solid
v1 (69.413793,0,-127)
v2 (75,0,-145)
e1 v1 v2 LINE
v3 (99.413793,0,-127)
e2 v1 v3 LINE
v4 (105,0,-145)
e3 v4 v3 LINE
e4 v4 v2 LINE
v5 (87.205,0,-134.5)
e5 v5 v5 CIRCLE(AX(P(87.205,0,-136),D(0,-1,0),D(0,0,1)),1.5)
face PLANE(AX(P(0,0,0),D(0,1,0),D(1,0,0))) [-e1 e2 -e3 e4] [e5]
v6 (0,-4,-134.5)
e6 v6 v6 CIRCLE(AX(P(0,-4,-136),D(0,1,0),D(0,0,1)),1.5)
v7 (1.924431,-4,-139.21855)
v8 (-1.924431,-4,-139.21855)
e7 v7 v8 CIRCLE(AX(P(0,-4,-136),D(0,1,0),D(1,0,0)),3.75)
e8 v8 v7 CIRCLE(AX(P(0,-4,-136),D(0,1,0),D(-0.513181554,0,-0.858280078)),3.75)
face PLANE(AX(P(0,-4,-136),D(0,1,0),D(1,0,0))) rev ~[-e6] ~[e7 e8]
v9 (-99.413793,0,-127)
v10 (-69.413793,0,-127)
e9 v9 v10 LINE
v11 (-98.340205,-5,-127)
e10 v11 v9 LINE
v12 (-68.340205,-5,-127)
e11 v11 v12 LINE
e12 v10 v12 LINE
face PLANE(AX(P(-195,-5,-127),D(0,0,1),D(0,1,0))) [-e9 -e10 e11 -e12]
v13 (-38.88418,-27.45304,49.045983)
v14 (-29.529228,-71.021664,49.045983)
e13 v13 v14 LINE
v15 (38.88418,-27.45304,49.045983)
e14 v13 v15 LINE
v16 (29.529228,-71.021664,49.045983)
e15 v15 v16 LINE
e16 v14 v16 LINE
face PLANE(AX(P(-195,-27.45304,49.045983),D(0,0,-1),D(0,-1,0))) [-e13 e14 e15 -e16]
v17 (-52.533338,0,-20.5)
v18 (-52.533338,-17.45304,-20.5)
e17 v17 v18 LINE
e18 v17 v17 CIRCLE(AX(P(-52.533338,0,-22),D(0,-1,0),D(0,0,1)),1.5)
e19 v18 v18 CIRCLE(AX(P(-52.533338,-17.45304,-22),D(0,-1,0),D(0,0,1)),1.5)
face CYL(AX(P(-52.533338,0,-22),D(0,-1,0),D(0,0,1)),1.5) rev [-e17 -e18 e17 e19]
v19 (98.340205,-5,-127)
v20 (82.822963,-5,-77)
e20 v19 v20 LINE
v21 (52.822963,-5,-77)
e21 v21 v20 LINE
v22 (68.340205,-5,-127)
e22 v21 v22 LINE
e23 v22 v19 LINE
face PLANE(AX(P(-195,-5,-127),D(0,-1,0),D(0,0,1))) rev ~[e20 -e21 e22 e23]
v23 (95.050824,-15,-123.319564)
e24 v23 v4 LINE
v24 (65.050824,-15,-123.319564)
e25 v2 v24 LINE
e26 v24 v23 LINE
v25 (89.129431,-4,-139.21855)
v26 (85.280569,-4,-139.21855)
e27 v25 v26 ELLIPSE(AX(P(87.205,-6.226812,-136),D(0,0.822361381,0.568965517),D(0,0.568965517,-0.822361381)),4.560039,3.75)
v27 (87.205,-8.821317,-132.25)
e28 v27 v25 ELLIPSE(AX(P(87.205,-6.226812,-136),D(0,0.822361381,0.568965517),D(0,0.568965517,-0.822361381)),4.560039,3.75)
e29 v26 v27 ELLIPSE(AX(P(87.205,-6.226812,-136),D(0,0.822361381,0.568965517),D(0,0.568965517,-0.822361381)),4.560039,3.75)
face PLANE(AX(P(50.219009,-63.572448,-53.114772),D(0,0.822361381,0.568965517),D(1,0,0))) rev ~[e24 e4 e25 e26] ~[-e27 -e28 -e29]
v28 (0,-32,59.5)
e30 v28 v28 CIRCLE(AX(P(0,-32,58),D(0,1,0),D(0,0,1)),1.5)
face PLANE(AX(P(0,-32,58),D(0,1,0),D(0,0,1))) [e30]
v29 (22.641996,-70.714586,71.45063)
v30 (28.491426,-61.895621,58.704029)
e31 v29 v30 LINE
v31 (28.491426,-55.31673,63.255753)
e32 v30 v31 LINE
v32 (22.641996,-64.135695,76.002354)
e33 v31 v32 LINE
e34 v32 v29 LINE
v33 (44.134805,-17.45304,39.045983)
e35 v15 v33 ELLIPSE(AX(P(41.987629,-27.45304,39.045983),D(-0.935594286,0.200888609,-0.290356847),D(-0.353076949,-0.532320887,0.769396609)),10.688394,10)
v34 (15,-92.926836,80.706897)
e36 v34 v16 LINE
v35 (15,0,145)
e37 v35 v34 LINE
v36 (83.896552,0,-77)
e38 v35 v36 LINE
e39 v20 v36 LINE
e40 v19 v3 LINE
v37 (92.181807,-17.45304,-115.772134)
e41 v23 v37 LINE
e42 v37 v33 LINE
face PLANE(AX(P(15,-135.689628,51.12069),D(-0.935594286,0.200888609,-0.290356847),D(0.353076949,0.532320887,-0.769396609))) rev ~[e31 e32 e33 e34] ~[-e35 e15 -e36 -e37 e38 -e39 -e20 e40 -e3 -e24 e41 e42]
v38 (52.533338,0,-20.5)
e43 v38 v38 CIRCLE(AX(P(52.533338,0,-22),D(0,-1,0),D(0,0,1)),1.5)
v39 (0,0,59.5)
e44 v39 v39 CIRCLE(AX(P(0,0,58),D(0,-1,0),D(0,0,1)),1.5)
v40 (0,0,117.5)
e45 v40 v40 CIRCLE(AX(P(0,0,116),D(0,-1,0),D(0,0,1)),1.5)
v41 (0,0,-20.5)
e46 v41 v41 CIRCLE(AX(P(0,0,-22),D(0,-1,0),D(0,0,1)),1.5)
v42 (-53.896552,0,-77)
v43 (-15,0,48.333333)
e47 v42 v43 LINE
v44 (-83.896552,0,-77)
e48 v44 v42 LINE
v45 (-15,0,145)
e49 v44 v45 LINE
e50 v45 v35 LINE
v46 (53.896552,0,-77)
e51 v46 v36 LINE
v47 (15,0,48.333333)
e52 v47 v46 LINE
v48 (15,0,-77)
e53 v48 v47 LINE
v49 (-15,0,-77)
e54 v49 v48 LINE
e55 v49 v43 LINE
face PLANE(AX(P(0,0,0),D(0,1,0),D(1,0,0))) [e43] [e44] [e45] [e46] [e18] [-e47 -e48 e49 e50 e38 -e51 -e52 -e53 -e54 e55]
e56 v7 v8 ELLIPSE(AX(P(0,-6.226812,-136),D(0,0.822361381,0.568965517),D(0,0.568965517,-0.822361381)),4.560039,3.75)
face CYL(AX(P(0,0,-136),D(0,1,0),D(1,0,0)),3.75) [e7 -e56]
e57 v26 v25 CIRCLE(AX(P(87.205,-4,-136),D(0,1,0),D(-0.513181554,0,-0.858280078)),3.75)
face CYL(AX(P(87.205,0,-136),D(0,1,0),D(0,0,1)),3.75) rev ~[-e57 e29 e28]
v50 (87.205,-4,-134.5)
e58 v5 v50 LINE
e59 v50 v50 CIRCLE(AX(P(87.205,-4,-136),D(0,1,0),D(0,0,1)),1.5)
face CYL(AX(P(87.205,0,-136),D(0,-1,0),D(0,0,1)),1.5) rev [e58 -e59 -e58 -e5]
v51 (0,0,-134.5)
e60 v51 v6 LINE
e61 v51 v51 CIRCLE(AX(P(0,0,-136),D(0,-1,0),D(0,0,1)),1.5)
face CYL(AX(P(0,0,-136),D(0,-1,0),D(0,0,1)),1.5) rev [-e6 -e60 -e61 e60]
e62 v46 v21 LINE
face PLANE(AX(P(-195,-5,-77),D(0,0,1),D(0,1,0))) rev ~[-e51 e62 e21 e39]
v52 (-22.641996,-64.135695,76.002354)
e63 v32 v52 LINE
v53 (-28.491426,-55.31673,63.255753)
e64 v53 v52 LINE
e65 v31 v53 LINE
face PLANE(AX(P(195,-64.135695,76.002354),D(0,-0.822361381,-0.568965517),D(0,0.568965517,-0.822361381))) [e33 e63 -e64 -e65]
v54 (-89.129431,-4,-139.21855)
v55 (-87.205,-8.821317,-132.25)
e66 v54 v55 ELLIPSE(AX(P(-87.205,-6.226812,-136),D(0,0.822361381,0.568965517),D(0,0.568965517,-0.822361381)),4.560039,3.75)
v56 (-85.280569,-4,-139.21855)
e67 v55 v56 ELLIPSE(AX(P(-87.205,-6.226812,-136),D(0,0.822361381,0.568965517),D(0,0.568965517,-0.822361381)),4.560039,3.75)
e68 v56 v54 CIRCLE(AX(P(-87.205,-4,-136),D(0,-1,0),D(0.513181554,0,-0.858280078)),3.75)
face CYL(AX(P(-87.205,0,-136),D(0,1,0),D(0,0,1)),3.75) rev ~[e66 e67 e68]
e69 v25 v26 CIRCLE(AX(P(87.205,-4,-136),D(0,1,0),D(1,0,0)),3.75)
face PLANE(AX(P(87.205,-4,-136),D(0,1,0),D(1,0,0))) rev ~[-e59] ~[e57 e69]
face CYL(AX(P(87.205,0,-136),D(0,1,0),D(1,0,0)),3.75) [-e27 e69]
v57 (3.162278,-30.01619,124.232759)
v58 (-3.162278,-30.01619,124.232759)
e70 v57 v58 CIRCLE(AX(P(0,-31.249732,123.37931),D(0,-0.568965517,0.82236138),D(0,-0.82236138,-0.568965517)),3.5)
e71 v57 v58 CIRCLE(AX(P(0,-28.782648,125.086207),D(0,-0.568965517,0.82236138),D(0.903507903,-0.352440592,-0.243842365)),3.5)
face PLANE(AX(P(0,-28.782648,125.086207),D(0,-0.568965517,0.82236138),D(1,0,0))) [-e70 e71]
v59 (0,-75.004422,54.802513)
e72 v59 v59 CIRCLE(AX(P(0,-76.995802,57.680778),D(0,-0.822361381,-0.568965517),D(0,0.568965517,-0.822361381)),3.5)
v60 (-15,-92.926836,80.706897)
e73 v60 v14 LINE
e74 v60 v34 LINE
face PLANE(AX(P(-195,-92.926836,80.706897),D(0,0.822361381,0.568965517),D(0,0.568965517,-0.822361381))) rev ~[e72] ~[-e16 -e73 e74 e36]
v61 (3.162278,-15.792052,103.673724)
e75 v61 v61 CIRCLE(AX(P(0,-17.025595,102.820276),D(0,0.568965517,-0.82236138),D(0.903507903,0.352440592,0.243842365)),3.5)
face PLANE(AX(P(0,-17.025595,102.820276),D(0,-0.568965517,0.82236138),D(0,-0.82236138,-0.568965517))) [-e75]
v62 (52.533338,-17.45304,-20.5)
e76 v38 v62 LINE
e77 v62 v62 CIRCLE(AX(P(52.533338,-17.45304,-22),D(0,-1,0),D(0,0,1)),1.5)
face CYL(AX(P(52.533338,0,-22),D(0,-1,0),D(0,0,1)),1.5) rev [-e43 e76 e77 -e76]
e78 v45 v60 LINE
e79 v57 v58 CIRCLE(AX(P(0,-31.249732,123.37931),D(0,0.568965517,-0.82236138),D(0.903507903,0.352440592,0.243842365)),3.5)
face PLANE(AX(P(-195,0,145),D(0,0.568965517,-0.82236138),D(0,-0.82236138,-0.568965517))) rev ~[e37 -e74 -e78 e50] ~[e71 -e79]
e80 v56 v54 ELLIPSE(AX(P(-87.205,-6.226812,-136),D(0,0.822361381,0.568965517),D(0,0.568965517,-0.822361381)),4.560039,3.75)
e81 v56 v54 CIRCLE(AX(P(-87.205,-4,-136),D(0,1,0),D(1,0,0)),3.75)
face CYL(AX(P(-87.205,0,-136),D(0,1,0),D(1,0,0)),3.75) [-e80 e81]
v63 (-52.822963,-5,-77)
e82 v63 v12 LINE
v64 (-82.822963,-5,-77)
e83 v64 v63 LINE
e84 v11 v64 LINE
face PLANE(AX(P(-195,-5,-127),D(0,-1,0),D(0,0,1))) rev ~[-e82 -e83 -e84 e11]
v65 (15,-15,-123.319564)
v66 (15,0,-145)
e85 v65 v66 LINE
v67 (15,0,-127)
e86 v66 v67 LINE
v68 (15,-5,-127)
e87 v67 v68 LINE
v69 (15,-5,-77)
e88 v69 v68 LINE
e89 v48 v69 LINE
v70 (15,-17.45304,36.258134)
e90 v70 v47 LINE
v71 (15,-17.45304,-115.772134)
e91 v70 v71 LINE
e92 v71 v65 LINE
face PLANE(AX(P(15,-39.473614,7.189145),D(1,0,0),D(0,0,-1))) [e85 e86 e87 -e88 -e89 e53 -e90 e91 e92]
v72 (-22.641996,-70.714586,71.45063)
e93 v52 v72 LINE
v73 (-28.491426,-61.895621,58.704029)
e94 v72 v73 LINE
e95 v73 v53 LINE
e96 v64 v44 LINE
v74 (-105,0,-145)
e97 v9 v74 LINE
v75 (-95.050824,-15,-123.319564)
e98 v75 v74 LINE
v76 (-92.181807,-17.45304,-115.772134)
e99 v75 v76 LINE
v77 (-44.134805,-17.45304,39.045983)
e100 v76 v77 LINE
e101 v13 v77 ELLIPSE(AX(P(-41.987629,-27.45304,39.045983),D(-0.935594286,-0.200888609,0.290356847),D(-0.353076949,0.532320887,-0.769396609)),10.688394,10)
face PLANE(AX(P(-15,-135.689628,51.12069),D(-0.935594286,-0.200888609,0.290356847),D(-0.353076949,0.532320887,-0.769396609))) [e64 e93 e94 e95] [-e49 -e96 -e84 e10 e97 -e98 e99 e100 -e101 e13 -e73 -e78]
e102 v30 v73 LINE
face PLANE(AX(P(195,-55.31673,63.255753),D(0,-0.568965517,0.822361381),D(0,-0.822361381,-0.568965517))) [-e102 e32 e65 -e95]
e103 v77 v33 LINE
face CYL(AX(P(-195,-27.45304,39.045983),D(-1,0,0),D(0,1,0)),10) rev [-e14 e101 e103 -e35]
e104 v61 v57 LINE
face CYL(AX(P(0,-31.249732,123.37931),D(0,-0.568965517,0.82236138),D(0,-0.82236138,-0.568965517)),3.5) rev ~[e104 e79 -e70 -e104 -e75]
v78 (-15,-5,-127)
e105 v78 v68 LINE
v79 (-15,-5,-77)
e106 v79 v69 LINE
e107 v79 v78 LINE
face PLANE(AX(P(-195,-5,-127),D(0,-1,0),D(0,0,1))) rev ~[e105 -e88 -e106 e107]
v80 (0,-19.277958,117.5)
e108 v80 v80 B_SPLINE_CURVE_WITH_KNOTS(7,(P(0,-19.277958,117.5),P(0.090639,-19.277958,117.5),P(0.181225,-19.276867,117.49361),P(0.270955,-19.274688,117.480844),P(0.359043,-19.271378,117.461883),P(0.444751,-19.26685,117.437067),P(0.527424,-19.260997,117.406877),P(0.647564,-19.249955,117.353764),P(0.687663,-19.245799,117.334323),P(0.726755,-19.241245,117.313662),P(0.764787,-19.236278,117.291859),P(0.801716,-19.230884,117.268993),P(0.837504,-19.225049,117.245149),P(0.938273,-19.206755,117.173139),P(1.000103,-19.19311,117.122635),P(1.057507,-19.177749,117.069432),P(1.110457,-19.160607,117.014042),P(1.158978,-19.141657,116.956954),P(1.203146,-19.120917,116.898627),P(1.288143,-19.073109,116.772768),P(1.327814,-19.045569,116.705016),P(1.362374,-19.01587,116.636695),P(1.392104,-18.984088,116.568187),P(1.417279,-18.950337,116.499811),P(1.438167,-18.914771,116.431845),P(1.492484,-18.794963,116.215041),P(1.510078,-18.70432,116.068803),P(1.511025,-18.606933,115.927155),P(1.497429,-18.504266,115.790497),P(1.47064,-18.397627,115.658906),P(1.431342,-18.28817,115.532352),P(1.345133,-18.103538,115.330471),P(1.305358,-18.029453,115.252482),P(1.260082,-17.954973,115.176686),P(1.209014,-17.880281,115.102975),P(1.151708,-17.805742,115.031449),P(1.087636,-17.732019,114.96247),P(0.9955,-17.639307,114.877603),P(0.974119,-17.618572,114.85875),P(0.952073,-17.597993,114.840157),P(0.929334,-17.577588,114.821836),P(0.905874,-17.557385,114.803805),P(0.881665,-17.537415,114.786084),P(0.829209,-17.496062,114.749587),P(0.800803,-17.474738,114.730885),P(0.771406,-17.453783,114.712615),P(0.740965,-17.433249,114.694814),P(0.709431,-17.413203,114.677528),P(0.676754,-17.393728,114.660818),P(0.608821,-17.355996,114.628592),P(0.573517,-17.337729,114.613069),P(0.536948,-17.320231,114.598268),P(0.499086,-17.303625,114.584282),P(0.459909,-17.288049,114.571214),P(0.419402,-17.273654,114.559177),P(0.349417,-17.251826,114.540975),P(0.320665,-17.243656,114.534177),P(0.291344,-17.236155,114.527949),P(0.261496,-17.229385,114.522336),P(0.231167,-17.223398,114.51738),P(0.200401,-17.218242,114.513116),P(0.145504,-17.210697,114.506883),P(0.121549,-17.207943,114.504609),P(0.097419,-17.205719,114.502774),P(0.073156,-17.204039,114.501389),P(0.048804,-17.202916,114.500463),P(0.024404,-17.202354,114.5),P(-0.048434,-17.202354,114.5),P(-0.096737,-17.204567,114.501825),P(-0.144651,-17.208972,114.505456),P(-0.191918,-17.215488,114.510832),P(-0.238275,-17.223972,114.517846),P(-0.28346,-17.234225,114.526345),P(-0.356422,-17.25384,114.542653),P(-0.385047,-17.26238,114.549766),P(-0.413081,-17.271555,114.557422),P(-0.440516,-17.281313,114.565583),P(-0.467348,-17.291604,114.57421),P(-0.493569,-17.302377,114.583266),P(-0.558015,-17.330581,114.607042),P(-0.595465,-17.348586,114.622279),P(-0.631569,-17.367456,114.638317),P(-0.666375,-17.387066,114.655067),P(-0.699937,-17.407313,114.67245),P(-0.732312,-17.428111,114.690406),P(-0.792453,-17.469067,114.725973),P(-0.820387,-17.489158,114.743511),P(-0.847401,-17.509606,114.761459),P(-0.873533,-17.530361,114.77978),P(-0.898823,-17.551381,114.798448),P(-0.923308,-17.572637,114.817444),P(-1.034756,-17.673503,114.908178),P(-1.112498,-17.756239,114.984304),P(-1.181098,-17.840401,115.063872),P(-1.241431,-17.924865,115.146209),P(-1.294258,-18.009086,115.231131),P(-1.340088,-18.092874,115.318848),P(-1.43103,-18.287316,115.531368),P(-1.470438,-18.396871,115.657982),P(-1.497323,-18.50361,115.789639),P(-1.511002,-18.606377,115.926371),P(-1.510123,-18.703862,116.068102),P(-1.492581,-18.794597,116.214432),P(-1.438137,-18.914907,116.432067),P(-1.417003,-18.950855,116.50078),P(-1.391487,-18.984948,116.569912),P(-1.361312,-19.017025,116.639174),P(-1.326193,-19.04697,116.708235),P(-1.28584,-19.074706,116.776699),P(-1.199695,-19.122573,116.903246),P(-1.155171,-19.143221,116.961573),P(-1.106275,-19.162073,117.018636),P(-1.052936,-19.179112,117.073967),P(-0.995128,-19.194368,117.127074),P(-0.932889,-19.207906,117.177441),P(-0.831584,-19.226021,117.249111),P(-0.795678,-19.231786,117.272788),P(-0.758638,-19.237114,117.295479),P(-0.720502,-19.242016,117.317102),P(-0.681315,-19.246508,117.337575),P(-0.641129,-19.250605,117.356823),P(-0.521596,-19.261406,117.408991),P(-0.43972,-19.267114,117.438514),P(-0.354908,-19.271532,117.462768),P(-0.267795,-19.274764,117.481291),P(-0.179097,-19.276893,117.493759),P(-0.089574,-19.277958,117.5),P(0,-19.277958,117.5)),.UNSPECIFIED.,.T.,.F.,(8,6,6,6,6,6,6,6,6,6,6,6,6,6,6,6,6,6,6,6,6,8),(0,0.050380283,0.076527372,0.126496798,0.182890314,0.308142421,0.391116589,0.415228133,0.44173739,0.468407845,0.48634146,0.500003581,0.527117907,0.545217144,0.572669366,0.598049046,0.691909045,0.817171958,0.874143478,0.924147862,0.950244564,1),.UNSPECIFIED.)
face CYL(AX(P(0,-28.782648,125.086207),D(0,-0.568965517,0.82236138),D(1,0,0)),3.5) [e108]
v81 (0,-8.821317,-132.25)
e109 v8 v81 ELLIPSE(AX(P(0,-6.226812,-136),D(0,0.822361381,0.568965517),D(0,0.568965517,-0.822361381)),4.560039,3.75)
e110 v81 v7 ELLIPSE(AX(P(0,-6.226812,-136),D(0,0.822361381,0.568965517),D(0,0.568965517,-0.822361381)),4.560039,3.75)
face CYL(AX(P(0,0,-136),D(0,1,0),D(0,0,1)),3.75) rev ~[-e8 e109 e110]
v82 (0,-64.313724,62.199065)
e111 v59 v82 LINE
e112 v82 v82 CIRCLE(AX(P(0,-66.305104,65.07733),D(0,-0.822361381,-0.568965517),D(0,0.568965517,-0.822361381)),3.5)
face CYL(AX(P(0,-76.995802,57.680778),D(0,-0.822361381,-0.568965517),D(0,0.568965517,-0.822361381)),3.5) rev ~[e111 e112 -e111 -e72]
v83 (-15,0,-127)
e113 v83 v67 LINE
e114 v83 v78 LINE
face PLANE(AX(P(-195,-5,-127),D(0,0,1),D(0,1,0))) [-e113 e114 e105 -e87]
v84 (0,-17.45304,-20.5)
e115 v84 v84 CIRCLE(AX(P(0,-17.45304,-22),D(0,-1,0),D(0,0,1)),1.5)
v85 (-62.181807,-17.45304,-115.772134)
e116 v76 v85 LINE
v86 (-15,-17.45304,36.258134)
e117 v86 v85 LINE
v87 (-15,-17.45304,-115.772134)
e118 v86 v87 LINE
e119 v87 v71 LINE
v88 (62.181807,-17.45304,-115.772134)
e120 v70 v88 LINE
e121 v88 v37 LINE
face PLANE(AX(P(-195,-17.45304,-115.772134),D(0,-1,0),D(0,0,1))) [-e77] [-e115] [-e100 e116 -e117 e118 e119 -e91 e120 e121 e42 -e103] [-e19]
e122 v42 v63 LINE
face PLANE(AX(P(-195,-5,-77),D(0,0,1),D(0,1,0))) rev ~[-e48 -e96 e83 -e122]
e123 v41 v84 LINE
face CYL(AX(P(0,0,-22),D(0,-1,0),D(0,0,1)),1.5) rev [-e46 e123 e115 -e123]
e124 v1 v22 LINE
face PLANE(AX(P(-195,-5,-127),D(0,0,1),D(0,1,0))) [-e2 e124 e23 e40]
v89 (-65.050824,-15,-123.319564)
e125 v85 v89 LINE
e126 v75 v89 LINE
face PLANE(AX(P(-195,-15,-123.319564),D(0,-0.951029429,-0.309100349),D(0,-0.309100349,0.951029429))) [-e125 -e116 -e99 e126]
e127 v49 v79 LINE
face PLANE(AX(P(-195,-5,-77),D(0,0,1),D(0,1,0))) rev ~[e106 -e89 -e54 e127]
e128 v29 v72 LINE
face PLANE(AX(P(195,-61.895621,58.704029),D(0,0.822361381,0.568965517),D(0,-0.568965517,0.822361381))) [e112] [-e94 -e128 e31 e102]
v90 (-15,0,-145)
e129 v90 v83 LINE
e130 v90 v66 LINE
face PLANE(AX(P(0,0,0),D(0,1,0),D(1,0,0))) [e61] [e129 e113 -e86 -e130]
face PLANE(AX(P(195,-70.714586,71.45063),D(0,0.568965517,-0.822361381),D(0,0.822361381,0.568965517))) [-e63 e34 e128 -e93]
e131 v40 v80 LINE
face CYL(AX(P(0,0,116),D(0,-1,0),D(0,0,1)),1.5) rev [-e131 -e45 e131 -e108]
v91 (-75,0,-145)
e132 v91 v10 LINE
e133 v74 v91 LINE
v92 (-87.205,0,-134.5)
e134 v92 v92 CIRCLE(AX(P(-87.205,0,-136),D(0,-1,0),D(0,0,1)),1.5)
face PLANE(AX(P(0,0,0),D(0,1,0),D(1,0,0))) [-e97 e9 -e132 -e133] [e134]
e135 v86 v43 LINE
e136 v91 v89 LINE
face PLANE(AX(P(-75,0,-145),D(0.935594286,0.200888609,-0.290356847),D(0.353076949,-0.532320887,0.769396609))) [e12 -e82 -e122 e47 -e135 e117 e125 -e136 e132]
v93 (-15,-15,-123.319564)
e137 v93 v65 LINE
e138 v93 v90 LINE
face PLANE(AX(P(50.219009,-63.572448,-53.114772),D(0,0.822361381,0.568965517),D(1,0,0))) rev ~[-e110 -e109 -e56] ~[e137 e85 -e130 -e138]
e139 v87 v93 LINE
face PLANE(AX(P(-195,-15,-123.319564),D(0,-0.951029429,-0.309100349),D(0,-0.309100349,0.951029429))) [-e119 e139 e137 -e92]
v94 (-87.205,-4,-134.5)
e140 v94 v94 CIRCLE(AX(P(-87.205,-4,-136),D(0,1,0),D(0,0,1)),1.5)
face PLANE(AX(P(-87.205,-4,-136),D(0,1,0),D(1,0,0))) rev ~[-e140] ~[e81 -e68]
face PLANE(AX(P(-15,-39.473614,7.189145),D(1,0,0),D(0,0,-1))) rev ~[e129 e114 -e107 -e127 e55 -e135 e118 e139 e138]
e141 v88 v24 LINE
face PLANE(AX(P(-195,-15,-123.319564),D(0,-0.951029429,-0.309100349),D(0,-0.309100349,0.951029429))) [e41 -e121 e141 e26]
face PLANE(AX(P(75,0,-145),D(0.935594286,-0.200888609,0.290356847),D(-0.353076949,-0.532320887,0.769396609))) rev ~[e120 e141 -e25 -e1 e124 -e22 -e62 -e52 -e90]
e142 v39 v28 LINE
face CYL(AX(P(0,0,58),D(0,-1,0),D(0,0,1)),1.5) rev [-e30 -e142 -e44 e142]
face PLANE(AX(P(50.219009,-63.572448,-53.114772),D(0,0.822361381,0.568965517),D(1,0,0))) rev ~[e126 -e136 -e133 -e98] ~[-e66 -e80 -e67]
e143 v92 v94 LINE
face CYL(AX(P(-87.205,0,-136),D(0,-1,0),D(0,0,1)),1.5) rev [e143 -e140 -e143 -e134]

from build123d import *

# Parameters (mm, degrees)
CROQUIS2_W                  = 390
CROQUIS2_H                  = 290
SALIENTE_EXTRUIR2_DEPTH     = 10
CROQUIS3_W                  = 390
CROQUIS3_H                  = 7
SALIENTE_EXTRUIR3_DEPTH     = 25
SALIENTE_EXTRUIR4_DEPTH     = 390
CORTAR_EXTRUIR1_DEPTH       = 180
CORTAR_EXTRUIR2_DEPTH       = 180
SALIENTE_EXTRUIR5_DEPTH     = 179
CROQUIS10_W                 = 283
CROQUIS10_H                 = 194.109962813
CORTAR_EXTRUIR5_DEPTH       = 236
CORTAR_EXTRUIR6_DEPTH       = 236
SALIENTE_EXTRUIR6_DEPTH     = 236
CROQUIS13_W                 = 339.798946509
CROQUIS13_H                 = 236.819651801
CROQUIS13_W_2               = 44.776464784
CROQUIS13_H_2               = 75.104657821
CORTAR_EXTRUIR7_DEPTH       = 500
CROQUIS14_W                 = 59.446000687
CROQUIS14_H                 = 81.435889979
CORTAR_EXTRUIR8_DEPTH       = 500
CROQUIS15_W                 = 50
CROQUIS15_H                 = 5
CORTAR_EXTRUIR9_DEPTH       = 500
CROQUIS16_W                 = 390
CROQUIS16_H                 = 283
CORTAR_EXTRUIR10_DEPTH      = 10
CROQUIS17_R                 = 3.75
CORTAR_EXTRUIR11_DEPTH      = 10
CROQUIS18_R                 = 3.75
CROQUIS18_R_2               = 1.5
SALIENTE_EXTRUIR8_DEPTH     = 4
CROQUIS19_R                 = 1.5
SALIENTE_EXTRUIR10_DEPTH    = 15
CROQUIS20_R                 = 1.5
SALIENTE_EXTRUIR11_DEPTH    = 15
SALIENTE_EXTRUIR11_2_DEPTH  = 15
SALIENTE_EXTRUIR11_3_DEPTH  = 15
CROQUIS21_W                 = 390
CROQUIS21_H                 = 283
SALIENTE_EXTRUIR12_DEPTH    = 10
CORTAR_EXTRUIR12_START      = -47
CROQUIS22_R                 = 1.5
CORTAR_EXTRUIR12_DEPTH      = 47
CROQUIS26_W                 = 283
CROQUIS26_H                 = 4.5
CORTAR_EXTRUIR16_DEPTH      = 500
CROQUIS27_W                 = 7
CROQUIS27_H                 = 9.5
CORTAR_EXTRUIR17_DEPTH      = 500
CORTAR_EXTRUIR18_DEPTH      = 500
CROQUIS29_R                 = 3.5
CORTAR_EXTRUIR19_DEPTH      = 20
CORTAR_EXTRUIR20_DEPTH      = 314
CROQUIS32_R                 = 3.5
CORTAR_EXTRUIR21_DEPTH      = 25
CROQUIS33_W                 = 308.833685193
CROQUIS33_H                 = 37.038834889
CORTAR_EXTRUIR22_DEPTH      = 500
CROQUIS34_W                 = 390
CROQUIS34_H                 = 290
CROQUIS34_R                 = 1.5
SALIENTE_EXTRUIR14_DEPTH    = 5.5
CROQUIS35_W                 = 390
CROQUIS35_H                 = 10
SALIENTE_EXTRUIR15_DEPTH    = 22
CORTAR_EXTRUIR23_DEPTH      = 488
CORTAR_EXTRUIR28_DEPTH      = 479.5
CROQUIS38_R                 = 3.5
CORTAR_EXTRUIR29_DEPTH      = 25
CROQUIS39_R                 = 1.5
SALIENTE_EXTRUIR16_DEPTH    = 9
CROQUIS40_R                 = 3.5
SALIENTE_EXTRUIR17_DEPTH    = 25
CROQUIS41_R                 = 3.5
CORTAR_EXTRUIR30_DEPTH      = 25
CORTAR_EXTRUIR31_DEPTH      = 41
CORTAR_EXTRUIR31_DEPTH_BACK = 5.5
CROQUIS42_W                 = 390
CROQUIS42_H                 = 290


with BuildPart() as part:
    # Croquis2 → Saliente-Extruir2 (new body)
    with BuildSketch(Plane(origin=(0, 0, 0), x_dir=(1, 0, 0), z_dir=(0, 1, 0))):
        Rectangle(CROQUIS2_W, CROQUIS2_H)
    extrude(amount=SALIENTE_EXTRUIR2_DEPTH)

    # Croquis3 → Saliente-Extruir3 (add)
    with BuildSketch(Plane(origin=(0, 10, 0), x_dir=(1, 0, 0), z_dir=(0, 1, 0))):
        with Locations((0, -141.5)):
            Rectangle(CROQUIS3_W, CROQUIS3_H)
    extrude(amount=SALIENTE_EXTRUIR3_DEPTH)

    # Croquis5 → Saliente-Extruir4 (add)
    with BuildSketch(Plane.ZY.offset(195)):
        Polygon((145, 0), (51.120689647, -135.689627782), (-145, 0), align=None)
    extrude(amount=-SALIENTE_EXTRUIR4_DEPTH)

    # Croquis6 → Cortar-Extruir1 (cut)
    with BuildSketch(Plane.ZY.offset(195)):
        Polygon((-145, 0), (145, 0), (51.120689647, -135.689627782), align=None)
    extrude(amount=-CORTAR_EXTRUIR1_DEPTH, mode=Mode.SUBTRACT)

    # Croquis7 → Cortar-Extruir2 (cut)
    with BuildSketch(Plane(origin=(195, 0, 0), x_dir=(0, 0, -1), z_dir=(1, 0, 0))):
        Polygon((145, 0), (-145, 0), (-51.120689647, -135.689627782), align=None)
    extrude(amount=-CORTAR_EXTRUIR2_DEPTH, mode=Mode.SUBTRACT)

    # Croquis8 → Saliente-Extruir5 (add)
    with BuildSketch(Plane(origin=(0, -67.844813894, -46.939655172), x_dir=(-1, 0, 0), z_dir=(0, -0.8223613805318496, -0.5689655172413796))):
        Polygon((15, -119.242400168), (105, 119.242400177), (75, 119.242400177), (15, -39.747466719), align=None)
    extrude(amount=-SALIENTE_EXTRUIR5_DEPTH)

    # Croquis10 → Cortar-Extruir5 (cut)
    with BuildSketch(Plane.ZY.offset(195)):
        with Locations((-3.5, 107.054981407)):
            Rectangle(CROQUIS10_W, CROQUIS10_H)
    extrude(amount=-CORTAR_EXTRUIR5_DEPTH, mode=Mode.SUBTRACT)

    # Croquis11 → Cortar-Extruir6 (cut)
    with BuildSketch(Plane.ZY.offset(195)):
        Polygon((145, 17.024145748), (144.999999988, 0), (165.789590248, 1.603195777), (161.358166331, 19.30887792), align=None)
    extrude(amount=-CORTAR_EXTRUIR6_DEPTH, mode=Mode.SUBTRACT)

    # Croquis12 → Saliente-Extruir6 (add)
    with BuildSketch(Plane(origin=(0, -67.844813894, -46.939655172), x_dir=(-1, 0, 0), z_dir=(0, -0.8223613805318496, -0.5689655172413796))):
        Polygon((-15, -119.242400168), (-105, 119.242400177), (-75, 119.242400177), (-15, -39.747466719), align=None)
    extrude(amount=-SALIENTE_EXTRUIR6_DEPTH)

    # Croquis13 → Cortar-Extruir7 (cut)
    with BuildSketch(Plane(origin=(195, 0, 0), x_dir=(0, 0, -1), z_dir=(1, 0, 0))):
        with Locations((31.899473255, 128.409825901)):
            Rectangle(CROQUIS13_W, CROQUIS13_H)
        with Locations((-167.388232392, 37.552328911)):
            Rectangle(CROQUIS13_W_2, CROQUIS13_H_2)
    extrude(amount=-CORTAR_EXTRUIR7_DEPTH, mode=Mode.SUBTRACT)

    # Croquis14 → Cortar-Extruir8 (cut)
    with BuildSketch(Plane(origin=(195, 0, 0), x_dir=(0, 0, -1), z_dir=(1, 0, 0))):
        with Locations((-167.723000344, 75.71794499)):
            Rectangle(CROQUIS14_W, CROQUIS14_H)
    extrude(amount=-CORTAR_EXTRUIR8_DEPTH, mode=Mode.SUBTRACT)

    # Croquis15 → Cortar-Extruir9 (cut)
    with BuildSketch(Plane.ZY.offset(195)):
        with Locations((-102, -2.5)):
            Rectangle(CROQUIS15_W, CROQUIS15_H)
    extrude(amount=-CORTAR_EXTRUIR9_DEPTH, mode=Mode.SUBTRACT)

    # Croquis16 → Cortar-Extruir10 (cut)
    with BuildSketch(Plane(origin=(0, 10, 0), x_dir=(1, 0, 0), z_dir=(0, 1, 0))):
        with Locations((0, 3.5)):
            Rectangle(CROQUIS16_W, CROQUIS16_H)
    extrude(amount=-CORTAR_EXTRUIR10_DEPTH, mode=Mode.SUBTRACT)

    # Croquis17 → Cortar-Extruir11 (cut)
    with BuildSketch(Plane(origin=(0, 0, 0), x_dir=(1, 0, 0), z_dir=(0, 1, 0))):
        with Locations(Location((-87.205, 136, 0), (0, 0, 270))):
            Circle(CROQUIS17_R)
        with Locations(Location((0, 136, 0), (0, 0, 270))):
            Circle(CROQUIS17_R)
        with Locations(Location((87.205, 136, 0), (0, 0, 270))):
            Circle(CROQUIS17_R)
    extrude(amount=-CORTAR_EXTRUIR11_DEPTH, mode=Mode.SUBTRACT)

    # Croquis18 → Saliente-Extruir8 (add)
    # profile 1 of 3: a face of its own
    with BuildSketch(Plane(origin=(0, 0, 0), x_dir=(1, 0, 0), z_dir=(0, 1, 0))):
        with Locations((-87.205, 136)):
            Circle(CROQUIS18_R)
        with Locations(Location((-87.205, 136, 0), (0, 0, 270))):
            Circle(CROQUIS18_R_2, mode=Mode.SUBTRACT)
    # profile 2 of 3: a face of its own
    with BuildSketch(Plane(origin=(0, 0, 0), x_dir=(1, 0, 0), z_dir=(0, 1, 0))):
        with Locations((0, 136)):
            Circle(CROQUIS18_R)
        with Locations(Location((0, 136, 0), (0, 0, 270))):
            Circle(CROQUIS18_R_2, mode=Mode.SUBTRACT)
    # profile 3 of 3: a face of its own
    with BuildSketch(Plane(origin=(0, 0, 0), x_dir=(1, 0, 0), z_dir=(0, 1, 0))):
        with Locations((87.205, 136)):
            Circle(CROQUIS18_R)
        with Locations(Location((87.205, 136, 0), (0, 0, 270))):
            Circle(CROQUIS18_R_2, mode=Mode.SUBTRACT)
    extrude(amount=-SALIENTE_EXTRUIR8_DEPTH)

    # Croquis19 → Saliente-Extruir10 (add)
    with BuildSketch(Plane(origin=(0, 0, 0), x_dir=(1, 0, 0), z_dir=(0, 1, 0))):
        with Locations(Location((-52.533337706, 22, 0), (0, 0, 270))):
            Circle(CROQUIS19_R)
        with Locations(Location((0, 22, 0), (0, 0, 270))):
            Circle(CROQUIS19_R)
        with Locations(Location((52.533337706, 22, 0), (0, 0, 270))):
            Circle(CROQUIS19_R)
        with Locations(Location((0, -58, 0), (0, 0, 270))):
            Circle(CROQUIS19_R)
        with Locations(Location((0, -116, 0), (0, 0, 270))):
            Circle(CROQUIS19_R)
    extrude(amount=SALIENTE_EXTRUIR10_DEPTH)



with BuildPart() as body_2:
    # Croquis20 → Saliente-Extruir11 (new body)
    with BuildSketch(Plane(origin=(0, 0, 0), x_dir=(1, 0, 0), z_dir=(0, 1, 0))):
        with Locations(Location((-87.205, 136, 0), (0, 0, 270))):
            Circle(CROQUIS20_R)
    extrude(amount=SALIENTE_EXTRUIR11_DEPTH)


with BuildPart() as body_3:
    # Croquis20 → Saliente-Extruir11 2 (new body)
    with BuildSketch(Plane(origin=(0, 0, 0), x_dir=(1, 0, 0), z_dir=(0, 1, 0))):
        with Locations(Location((0, 136, 0), (0, 0, 270))):
            Circle(CROQUIS20_R)
    extrude(amount=SALIENTE_EXTRUIR11_2_DEPTH)


with BuildPart() as body_4:
    # Croquis20 → Saliente-Extruir11 3 (new body)
    with BuildSketch(Plane(origin=(0, 0, 0), x_dir=(1, 0, 0), z_dir=(0, 1, 0))):
        with Locations(Location((87.205, 136, 0), (0, 0, 270))):
            Circle(CROQUIS20_R)
    extrude(amount=SALIENTE_EXTRUIR11_3_DEPTH)


with BuildPart() as part_1:
    add(part.part)

    add(body_2.part)  # Saliente-Extruir12 merges body 2

    add(body_3.part)  # Saliente-Extruir12 merges body 3

    add(body_4.part)  # Saliente-Extruir12 merges body 4
    # Croquis21 → Saliente-Extruir12 (add)
    with BuildSketch(Plane(origin=(0, 0, 0), x_dir=(1, 0, 0), z_dir=(0, 1, 0))):
        with Locations((0, 3.5)):
            Rectangle(CROQUIS21_W, CROQUIS21_H)
    extrude(amount=SALIENTE_EXTRUIR12_DEPTH)

    # Croquis22 → Cortar-Extruir12 (cut)
    with BuildSketch(Plane(origin=(0, 15, 0), x_dir=(1, 0, 0), z_dir=(0, 1, 0)).offset(CORTAR_EXTRUIR12_START)):
        with Locations(Location((0, -116, 0), (0, 0, 270))):
            Circle(CROQUIS22_R)
        with Locations(Location((0, -58, 0), (0, 0, 270))):
            Circle(CROQUIS22_R)
        with Locations(Location((-52.533337706, 22, 0), (0, 0, 270))):
            Circle(CROQUIS22_R)
        with Locations(Location((0, 22, 0), (0, 0, 270))):
            Circle(CROQUIS22_R)
        with Locations(Location((52.533337706, 22, 0), (0, 0, 270))):
            Circle(CROQUIS22_R)
        with Locations(Location((87.205, 136, 0), (0, 0, 270))):
            Circle(CROQUIS22_R)
        with Locations(Location((0, 136, 0), (0, 0, 270))):
            Circle(CROQUIS22_R)
        with Locations(Location((-87.205, 136, 0), (0, 0, 270))):
            Circle(CROQUIS22_R)
    extrude(amount=CORTAR_EXTRUIR12_DEPTH, mode=Mode.SUBTRACT)

    # Croquis26 → Cortar-Extruir16 (cut)
    with BuildSketch(Plane.ZY.offset(195)):
        with Locations((-3.5, 7.75)):
            Rectangle(CROQUIS26_W, CROQUIS26_H)
    extrude(amount=-CORTAR_EXTRUIR16_DEPTH, mode=Mode.SUBTRACT)

    # Croquis27 → Cortar-Extruir17 (cut)
    with BuildSketch(Plane.ZY.offset(195)):
        with Locations((141.5, 30.25)):
            Rectangle(CROQUIS27_W, CROQUIS27_H)
    extrude(amount=-CORTAR_EXTRUIR17_DEPTH, mode=Mode.SUBTRACT)

    # Croquis28 → Cortar-Extruir18 (cut)
    with BuildSketch(Plane.ZY.offset(195)):
        Polygon((51.120689647, -135.689627782), (80.706896544, -92.926835995), (49.045983393, -71.021663581), (19.459776497, -113.784455368), align=None)
    extrude(amount=-CORTAR_EXTRUIR18_DEPTH, mode=Mode.SUBTRACT)

    # Croquis29 → Cortar-Extruir19 (cut)
    with BuildSketch(Plane(origin=(0, -25.082022106, -17.353448276), x_dir=(-1, 0, 0), z_dir=(0, -0.8223613805318496, -0.5689655172413796))):
        with Locations(Location((0, -91.242400168, 0), (0, 0, 90))):
            Circle(CROQUIS29_R)
    extrude(amount=-CORTAR_EXTRUIR19_DEPTH, mode=Mode.SUBTRACT)

    # Croquis31 → Cortar-Extruir20 (cut)
    with BuildSketch(Plane(origin=(195, 0, 0), x_dir=(0, 0, -1), z_dir=(1, 0, 0))):
        Polygon((-71.450630314, -70.714586325), (-76.002354452, -64.13569528), (-63.255753053, -55.316729763), (-58.704028915, -61.895620807), align=None)
    extrude(amount=-CORTAR_EXTRUIR20_DEPTH, mode=Mode.SUBTRACT)

    # Croquis32 → Cortar-Extruir21 (cut)
    with BuildSketch(Plane(origin=(0, -67.844813897, 98.06034482), x_dir=(1, 0, 0), z_dir=(0, -0.568965517289267, 0.8223613804987178))):
        with Locations(Location((0, 47.5, 0), (0, 0, 270))):
            Circle(CROQUIS32_R)
    extrude(amount=-CORTAR_EXTRUIR21_DEPTH, mode=Mode.SUBTRACT)

    # Croquis33 → Cortar-Extruir22 (cut)
    with BuildSketch(Plane(origin=(195, 0, 0), x_dir=(0, 0, -1), z_dir=(1, 0, 0))):
        with Locations((9.416842597, 18.519417445)):
            Rectangle(CROQUIS33_W, CROQUIS33_H)
    extrude(amount=-CORTAR_EXTRUIR22_DEPTH, mode=Mode.SUBTRACT)

    # Croquis34 → Saliente-Extruir14 (add)
    with BuildSketch(Plane(origin=(0, 0, 0), x_dir=(1, 0, 0), z_dir=(0, 1, 0))):
        Rectangle(CROQUIS34_W, CROQUIS34_H)
        with Locations(Location((0, -58, 0), (0, 0, 270))):
            Circle(CROQUIS34_R, mode=Mode.SUBTRACT)
        with Locations(Location((0, -116, 0), (0, 0, 270))):
            Circle(CROQUIS34_R, mode=Mode.SUBTRACT)
        with Locations(Location((-52.533337706, 22, 0), (0, 0, 270))):
            Circle(CROQUIS34_R, mode=Mode.SUBTRACT)
        with Locations(Location((0, 22, 0), (0, 0, 270))):
            Circle(CROQUIS34_R, mode=Mode.SUBTRACT)
        with Locations(Location((52.533337706, 22, 0), (0, 0, 270))):
            Circle(CROQUIS34_R, mode=Mode.SUBTRACT)
        with Locations(Location((-87.205, 136, 0), (0, 0, 270))):
            Circle(CROQUIS34_R, mode=Mode.SUBTRACT)
        with Locations(Location((0, 136, 0), (0, 0, 270))):
            Circle(CROQUIS34_R, mode=Mode.SUBTRACT)
        with Locations(Location((87.205, 136, 0), (0, 0, 270))):
            Circle(CROQUIS34_R, mode=Mode.SUBTRACT)
    extrude(amount=SALIENTE_EXTRUIR14_DEPTH)

    # Croquis35 → Saliente-Extruir15 (add)
    with BuildSketch(Plane(origin=(0, 5.5, 0), x_dir=(1, 0, 0), z_dir=(0, 1, 0))):
        with Locations((0, -140)):
            Rectangle(CROQUIS35_W, CROQUIS35_H)
    extrude(amount=SALIENTE_EXTRUIR15_DEPTH)

    # Croquis36 → Cortar-Extruir23 (cut)
    with BuildSketch(Plane.ZY.offset(195)):
        Polygon((19.459776497, -113.784455368), (-123.319563604, -15), (49.045983393, -71.021663581), align=None)
    extrude(amount=-CORTAR_EXTRUIR23_DEPTH, mode=Mode.SUBTRACT)

    # Croquis37 → Cortar-Extruir28 (cut)
    with BuildSketch(Plane.ZY.offset(195)):
        with BuildLine():
            Line((-115.772134461, -17.453039739), (39.045983393, -17.453039739))
            ThreePointArc((39.045983393, -17.453039739), (46.117051205, -20.381971927), (49.045983393, -27.453039739))
            Line((49.045983393, -27.453039739), (49.045983393, -71.021663581))
            Line((49.045983393, -71.021663581), (-115.772134461, -17.453039739))
        make_face()
    extrude(amount=-CORTAR_EXTRUIR28_DEPTH, mode=Mode.SUBTRACT)

    # Croquis38 → Cortar-Extruir29 (cut)
    with BuildSketch(Plane(origin=(0, -67.844813897, 98.06034482), x_dir=(1, 0, 0), z_dir=(0, -0.568965517289267, 0.8223613804987178))):
        with Locations((0, 44.5)):
            Circle(CROQUIS38_R)
    extrude(amount=-CORTAR_EXTRUIR29_DEPTH, mode=Mode.SUBTRACT)

    # Croquis39 → Saliente-Extruir16 (add)
    with BuildSketch(Plane(origin=(0, -32, 0), x_dir=(1, 0, 0), z_dir=(0, 1, 0))):
        with Locations(Location((0, -116, 0), (0, 0, 270))):
            Circle(CROQUIS39_R)
    extrude(amount=SALIENTE_EXTRUIR16_DEPTH)

    # Croquis40 → Saliente-Extruir17 (add)
    with BuildSketch(Plane(origin=(0, -67.844813897, 98.06034482), x_dir=(1, 0, 0), z_dir=(0, -0.568965517289267, 0.8223613804987178))):
        with Locations((0, 47.5)):
            Circle(CROQUIS40_R)
    extrude(amount=-SALIENTE_EXTRUIR17_DEPTH)

    # Croquis41 → Cortar-Extruir30 (cut)
    with BuildSketch(Plane(origin=(0, -67.844813897, 98.06034482), x_dir=(1, 0, 0), z_dir=(0, -0.568965517289267, 0.8223613804987178))):
        with Locations(Location((0, 44.5, 0), (0, 0, 270))):
            Circle(CROQUIS41_R)
    extrude(amount=-CORTAR_EXTRUIR30_DEPTH, mode=Mode.SUBTRACT)

    # Croquis42 → Cortar-Extruir31 (cut, two sides: drawn at the far end of the back side and taken through both)
    with BuildSketch(Plane(origin=(0, 5.5, 0), x_dir=(1, 0, 0), z_dir=(0, 1, 0)).offset(-CORTAR_EXTRUIR31_DEPTH_BACK)):
        Rectangle(CROQUIS42_W, CROQUIS42_H)
    extrude(amount=CORTAR_EXTRUIR31_DEPTH + CORTAR_EXTRUIR31_DEPTH_BACK, mode=Mode.SUBTRACT)


solid = part_1.part
